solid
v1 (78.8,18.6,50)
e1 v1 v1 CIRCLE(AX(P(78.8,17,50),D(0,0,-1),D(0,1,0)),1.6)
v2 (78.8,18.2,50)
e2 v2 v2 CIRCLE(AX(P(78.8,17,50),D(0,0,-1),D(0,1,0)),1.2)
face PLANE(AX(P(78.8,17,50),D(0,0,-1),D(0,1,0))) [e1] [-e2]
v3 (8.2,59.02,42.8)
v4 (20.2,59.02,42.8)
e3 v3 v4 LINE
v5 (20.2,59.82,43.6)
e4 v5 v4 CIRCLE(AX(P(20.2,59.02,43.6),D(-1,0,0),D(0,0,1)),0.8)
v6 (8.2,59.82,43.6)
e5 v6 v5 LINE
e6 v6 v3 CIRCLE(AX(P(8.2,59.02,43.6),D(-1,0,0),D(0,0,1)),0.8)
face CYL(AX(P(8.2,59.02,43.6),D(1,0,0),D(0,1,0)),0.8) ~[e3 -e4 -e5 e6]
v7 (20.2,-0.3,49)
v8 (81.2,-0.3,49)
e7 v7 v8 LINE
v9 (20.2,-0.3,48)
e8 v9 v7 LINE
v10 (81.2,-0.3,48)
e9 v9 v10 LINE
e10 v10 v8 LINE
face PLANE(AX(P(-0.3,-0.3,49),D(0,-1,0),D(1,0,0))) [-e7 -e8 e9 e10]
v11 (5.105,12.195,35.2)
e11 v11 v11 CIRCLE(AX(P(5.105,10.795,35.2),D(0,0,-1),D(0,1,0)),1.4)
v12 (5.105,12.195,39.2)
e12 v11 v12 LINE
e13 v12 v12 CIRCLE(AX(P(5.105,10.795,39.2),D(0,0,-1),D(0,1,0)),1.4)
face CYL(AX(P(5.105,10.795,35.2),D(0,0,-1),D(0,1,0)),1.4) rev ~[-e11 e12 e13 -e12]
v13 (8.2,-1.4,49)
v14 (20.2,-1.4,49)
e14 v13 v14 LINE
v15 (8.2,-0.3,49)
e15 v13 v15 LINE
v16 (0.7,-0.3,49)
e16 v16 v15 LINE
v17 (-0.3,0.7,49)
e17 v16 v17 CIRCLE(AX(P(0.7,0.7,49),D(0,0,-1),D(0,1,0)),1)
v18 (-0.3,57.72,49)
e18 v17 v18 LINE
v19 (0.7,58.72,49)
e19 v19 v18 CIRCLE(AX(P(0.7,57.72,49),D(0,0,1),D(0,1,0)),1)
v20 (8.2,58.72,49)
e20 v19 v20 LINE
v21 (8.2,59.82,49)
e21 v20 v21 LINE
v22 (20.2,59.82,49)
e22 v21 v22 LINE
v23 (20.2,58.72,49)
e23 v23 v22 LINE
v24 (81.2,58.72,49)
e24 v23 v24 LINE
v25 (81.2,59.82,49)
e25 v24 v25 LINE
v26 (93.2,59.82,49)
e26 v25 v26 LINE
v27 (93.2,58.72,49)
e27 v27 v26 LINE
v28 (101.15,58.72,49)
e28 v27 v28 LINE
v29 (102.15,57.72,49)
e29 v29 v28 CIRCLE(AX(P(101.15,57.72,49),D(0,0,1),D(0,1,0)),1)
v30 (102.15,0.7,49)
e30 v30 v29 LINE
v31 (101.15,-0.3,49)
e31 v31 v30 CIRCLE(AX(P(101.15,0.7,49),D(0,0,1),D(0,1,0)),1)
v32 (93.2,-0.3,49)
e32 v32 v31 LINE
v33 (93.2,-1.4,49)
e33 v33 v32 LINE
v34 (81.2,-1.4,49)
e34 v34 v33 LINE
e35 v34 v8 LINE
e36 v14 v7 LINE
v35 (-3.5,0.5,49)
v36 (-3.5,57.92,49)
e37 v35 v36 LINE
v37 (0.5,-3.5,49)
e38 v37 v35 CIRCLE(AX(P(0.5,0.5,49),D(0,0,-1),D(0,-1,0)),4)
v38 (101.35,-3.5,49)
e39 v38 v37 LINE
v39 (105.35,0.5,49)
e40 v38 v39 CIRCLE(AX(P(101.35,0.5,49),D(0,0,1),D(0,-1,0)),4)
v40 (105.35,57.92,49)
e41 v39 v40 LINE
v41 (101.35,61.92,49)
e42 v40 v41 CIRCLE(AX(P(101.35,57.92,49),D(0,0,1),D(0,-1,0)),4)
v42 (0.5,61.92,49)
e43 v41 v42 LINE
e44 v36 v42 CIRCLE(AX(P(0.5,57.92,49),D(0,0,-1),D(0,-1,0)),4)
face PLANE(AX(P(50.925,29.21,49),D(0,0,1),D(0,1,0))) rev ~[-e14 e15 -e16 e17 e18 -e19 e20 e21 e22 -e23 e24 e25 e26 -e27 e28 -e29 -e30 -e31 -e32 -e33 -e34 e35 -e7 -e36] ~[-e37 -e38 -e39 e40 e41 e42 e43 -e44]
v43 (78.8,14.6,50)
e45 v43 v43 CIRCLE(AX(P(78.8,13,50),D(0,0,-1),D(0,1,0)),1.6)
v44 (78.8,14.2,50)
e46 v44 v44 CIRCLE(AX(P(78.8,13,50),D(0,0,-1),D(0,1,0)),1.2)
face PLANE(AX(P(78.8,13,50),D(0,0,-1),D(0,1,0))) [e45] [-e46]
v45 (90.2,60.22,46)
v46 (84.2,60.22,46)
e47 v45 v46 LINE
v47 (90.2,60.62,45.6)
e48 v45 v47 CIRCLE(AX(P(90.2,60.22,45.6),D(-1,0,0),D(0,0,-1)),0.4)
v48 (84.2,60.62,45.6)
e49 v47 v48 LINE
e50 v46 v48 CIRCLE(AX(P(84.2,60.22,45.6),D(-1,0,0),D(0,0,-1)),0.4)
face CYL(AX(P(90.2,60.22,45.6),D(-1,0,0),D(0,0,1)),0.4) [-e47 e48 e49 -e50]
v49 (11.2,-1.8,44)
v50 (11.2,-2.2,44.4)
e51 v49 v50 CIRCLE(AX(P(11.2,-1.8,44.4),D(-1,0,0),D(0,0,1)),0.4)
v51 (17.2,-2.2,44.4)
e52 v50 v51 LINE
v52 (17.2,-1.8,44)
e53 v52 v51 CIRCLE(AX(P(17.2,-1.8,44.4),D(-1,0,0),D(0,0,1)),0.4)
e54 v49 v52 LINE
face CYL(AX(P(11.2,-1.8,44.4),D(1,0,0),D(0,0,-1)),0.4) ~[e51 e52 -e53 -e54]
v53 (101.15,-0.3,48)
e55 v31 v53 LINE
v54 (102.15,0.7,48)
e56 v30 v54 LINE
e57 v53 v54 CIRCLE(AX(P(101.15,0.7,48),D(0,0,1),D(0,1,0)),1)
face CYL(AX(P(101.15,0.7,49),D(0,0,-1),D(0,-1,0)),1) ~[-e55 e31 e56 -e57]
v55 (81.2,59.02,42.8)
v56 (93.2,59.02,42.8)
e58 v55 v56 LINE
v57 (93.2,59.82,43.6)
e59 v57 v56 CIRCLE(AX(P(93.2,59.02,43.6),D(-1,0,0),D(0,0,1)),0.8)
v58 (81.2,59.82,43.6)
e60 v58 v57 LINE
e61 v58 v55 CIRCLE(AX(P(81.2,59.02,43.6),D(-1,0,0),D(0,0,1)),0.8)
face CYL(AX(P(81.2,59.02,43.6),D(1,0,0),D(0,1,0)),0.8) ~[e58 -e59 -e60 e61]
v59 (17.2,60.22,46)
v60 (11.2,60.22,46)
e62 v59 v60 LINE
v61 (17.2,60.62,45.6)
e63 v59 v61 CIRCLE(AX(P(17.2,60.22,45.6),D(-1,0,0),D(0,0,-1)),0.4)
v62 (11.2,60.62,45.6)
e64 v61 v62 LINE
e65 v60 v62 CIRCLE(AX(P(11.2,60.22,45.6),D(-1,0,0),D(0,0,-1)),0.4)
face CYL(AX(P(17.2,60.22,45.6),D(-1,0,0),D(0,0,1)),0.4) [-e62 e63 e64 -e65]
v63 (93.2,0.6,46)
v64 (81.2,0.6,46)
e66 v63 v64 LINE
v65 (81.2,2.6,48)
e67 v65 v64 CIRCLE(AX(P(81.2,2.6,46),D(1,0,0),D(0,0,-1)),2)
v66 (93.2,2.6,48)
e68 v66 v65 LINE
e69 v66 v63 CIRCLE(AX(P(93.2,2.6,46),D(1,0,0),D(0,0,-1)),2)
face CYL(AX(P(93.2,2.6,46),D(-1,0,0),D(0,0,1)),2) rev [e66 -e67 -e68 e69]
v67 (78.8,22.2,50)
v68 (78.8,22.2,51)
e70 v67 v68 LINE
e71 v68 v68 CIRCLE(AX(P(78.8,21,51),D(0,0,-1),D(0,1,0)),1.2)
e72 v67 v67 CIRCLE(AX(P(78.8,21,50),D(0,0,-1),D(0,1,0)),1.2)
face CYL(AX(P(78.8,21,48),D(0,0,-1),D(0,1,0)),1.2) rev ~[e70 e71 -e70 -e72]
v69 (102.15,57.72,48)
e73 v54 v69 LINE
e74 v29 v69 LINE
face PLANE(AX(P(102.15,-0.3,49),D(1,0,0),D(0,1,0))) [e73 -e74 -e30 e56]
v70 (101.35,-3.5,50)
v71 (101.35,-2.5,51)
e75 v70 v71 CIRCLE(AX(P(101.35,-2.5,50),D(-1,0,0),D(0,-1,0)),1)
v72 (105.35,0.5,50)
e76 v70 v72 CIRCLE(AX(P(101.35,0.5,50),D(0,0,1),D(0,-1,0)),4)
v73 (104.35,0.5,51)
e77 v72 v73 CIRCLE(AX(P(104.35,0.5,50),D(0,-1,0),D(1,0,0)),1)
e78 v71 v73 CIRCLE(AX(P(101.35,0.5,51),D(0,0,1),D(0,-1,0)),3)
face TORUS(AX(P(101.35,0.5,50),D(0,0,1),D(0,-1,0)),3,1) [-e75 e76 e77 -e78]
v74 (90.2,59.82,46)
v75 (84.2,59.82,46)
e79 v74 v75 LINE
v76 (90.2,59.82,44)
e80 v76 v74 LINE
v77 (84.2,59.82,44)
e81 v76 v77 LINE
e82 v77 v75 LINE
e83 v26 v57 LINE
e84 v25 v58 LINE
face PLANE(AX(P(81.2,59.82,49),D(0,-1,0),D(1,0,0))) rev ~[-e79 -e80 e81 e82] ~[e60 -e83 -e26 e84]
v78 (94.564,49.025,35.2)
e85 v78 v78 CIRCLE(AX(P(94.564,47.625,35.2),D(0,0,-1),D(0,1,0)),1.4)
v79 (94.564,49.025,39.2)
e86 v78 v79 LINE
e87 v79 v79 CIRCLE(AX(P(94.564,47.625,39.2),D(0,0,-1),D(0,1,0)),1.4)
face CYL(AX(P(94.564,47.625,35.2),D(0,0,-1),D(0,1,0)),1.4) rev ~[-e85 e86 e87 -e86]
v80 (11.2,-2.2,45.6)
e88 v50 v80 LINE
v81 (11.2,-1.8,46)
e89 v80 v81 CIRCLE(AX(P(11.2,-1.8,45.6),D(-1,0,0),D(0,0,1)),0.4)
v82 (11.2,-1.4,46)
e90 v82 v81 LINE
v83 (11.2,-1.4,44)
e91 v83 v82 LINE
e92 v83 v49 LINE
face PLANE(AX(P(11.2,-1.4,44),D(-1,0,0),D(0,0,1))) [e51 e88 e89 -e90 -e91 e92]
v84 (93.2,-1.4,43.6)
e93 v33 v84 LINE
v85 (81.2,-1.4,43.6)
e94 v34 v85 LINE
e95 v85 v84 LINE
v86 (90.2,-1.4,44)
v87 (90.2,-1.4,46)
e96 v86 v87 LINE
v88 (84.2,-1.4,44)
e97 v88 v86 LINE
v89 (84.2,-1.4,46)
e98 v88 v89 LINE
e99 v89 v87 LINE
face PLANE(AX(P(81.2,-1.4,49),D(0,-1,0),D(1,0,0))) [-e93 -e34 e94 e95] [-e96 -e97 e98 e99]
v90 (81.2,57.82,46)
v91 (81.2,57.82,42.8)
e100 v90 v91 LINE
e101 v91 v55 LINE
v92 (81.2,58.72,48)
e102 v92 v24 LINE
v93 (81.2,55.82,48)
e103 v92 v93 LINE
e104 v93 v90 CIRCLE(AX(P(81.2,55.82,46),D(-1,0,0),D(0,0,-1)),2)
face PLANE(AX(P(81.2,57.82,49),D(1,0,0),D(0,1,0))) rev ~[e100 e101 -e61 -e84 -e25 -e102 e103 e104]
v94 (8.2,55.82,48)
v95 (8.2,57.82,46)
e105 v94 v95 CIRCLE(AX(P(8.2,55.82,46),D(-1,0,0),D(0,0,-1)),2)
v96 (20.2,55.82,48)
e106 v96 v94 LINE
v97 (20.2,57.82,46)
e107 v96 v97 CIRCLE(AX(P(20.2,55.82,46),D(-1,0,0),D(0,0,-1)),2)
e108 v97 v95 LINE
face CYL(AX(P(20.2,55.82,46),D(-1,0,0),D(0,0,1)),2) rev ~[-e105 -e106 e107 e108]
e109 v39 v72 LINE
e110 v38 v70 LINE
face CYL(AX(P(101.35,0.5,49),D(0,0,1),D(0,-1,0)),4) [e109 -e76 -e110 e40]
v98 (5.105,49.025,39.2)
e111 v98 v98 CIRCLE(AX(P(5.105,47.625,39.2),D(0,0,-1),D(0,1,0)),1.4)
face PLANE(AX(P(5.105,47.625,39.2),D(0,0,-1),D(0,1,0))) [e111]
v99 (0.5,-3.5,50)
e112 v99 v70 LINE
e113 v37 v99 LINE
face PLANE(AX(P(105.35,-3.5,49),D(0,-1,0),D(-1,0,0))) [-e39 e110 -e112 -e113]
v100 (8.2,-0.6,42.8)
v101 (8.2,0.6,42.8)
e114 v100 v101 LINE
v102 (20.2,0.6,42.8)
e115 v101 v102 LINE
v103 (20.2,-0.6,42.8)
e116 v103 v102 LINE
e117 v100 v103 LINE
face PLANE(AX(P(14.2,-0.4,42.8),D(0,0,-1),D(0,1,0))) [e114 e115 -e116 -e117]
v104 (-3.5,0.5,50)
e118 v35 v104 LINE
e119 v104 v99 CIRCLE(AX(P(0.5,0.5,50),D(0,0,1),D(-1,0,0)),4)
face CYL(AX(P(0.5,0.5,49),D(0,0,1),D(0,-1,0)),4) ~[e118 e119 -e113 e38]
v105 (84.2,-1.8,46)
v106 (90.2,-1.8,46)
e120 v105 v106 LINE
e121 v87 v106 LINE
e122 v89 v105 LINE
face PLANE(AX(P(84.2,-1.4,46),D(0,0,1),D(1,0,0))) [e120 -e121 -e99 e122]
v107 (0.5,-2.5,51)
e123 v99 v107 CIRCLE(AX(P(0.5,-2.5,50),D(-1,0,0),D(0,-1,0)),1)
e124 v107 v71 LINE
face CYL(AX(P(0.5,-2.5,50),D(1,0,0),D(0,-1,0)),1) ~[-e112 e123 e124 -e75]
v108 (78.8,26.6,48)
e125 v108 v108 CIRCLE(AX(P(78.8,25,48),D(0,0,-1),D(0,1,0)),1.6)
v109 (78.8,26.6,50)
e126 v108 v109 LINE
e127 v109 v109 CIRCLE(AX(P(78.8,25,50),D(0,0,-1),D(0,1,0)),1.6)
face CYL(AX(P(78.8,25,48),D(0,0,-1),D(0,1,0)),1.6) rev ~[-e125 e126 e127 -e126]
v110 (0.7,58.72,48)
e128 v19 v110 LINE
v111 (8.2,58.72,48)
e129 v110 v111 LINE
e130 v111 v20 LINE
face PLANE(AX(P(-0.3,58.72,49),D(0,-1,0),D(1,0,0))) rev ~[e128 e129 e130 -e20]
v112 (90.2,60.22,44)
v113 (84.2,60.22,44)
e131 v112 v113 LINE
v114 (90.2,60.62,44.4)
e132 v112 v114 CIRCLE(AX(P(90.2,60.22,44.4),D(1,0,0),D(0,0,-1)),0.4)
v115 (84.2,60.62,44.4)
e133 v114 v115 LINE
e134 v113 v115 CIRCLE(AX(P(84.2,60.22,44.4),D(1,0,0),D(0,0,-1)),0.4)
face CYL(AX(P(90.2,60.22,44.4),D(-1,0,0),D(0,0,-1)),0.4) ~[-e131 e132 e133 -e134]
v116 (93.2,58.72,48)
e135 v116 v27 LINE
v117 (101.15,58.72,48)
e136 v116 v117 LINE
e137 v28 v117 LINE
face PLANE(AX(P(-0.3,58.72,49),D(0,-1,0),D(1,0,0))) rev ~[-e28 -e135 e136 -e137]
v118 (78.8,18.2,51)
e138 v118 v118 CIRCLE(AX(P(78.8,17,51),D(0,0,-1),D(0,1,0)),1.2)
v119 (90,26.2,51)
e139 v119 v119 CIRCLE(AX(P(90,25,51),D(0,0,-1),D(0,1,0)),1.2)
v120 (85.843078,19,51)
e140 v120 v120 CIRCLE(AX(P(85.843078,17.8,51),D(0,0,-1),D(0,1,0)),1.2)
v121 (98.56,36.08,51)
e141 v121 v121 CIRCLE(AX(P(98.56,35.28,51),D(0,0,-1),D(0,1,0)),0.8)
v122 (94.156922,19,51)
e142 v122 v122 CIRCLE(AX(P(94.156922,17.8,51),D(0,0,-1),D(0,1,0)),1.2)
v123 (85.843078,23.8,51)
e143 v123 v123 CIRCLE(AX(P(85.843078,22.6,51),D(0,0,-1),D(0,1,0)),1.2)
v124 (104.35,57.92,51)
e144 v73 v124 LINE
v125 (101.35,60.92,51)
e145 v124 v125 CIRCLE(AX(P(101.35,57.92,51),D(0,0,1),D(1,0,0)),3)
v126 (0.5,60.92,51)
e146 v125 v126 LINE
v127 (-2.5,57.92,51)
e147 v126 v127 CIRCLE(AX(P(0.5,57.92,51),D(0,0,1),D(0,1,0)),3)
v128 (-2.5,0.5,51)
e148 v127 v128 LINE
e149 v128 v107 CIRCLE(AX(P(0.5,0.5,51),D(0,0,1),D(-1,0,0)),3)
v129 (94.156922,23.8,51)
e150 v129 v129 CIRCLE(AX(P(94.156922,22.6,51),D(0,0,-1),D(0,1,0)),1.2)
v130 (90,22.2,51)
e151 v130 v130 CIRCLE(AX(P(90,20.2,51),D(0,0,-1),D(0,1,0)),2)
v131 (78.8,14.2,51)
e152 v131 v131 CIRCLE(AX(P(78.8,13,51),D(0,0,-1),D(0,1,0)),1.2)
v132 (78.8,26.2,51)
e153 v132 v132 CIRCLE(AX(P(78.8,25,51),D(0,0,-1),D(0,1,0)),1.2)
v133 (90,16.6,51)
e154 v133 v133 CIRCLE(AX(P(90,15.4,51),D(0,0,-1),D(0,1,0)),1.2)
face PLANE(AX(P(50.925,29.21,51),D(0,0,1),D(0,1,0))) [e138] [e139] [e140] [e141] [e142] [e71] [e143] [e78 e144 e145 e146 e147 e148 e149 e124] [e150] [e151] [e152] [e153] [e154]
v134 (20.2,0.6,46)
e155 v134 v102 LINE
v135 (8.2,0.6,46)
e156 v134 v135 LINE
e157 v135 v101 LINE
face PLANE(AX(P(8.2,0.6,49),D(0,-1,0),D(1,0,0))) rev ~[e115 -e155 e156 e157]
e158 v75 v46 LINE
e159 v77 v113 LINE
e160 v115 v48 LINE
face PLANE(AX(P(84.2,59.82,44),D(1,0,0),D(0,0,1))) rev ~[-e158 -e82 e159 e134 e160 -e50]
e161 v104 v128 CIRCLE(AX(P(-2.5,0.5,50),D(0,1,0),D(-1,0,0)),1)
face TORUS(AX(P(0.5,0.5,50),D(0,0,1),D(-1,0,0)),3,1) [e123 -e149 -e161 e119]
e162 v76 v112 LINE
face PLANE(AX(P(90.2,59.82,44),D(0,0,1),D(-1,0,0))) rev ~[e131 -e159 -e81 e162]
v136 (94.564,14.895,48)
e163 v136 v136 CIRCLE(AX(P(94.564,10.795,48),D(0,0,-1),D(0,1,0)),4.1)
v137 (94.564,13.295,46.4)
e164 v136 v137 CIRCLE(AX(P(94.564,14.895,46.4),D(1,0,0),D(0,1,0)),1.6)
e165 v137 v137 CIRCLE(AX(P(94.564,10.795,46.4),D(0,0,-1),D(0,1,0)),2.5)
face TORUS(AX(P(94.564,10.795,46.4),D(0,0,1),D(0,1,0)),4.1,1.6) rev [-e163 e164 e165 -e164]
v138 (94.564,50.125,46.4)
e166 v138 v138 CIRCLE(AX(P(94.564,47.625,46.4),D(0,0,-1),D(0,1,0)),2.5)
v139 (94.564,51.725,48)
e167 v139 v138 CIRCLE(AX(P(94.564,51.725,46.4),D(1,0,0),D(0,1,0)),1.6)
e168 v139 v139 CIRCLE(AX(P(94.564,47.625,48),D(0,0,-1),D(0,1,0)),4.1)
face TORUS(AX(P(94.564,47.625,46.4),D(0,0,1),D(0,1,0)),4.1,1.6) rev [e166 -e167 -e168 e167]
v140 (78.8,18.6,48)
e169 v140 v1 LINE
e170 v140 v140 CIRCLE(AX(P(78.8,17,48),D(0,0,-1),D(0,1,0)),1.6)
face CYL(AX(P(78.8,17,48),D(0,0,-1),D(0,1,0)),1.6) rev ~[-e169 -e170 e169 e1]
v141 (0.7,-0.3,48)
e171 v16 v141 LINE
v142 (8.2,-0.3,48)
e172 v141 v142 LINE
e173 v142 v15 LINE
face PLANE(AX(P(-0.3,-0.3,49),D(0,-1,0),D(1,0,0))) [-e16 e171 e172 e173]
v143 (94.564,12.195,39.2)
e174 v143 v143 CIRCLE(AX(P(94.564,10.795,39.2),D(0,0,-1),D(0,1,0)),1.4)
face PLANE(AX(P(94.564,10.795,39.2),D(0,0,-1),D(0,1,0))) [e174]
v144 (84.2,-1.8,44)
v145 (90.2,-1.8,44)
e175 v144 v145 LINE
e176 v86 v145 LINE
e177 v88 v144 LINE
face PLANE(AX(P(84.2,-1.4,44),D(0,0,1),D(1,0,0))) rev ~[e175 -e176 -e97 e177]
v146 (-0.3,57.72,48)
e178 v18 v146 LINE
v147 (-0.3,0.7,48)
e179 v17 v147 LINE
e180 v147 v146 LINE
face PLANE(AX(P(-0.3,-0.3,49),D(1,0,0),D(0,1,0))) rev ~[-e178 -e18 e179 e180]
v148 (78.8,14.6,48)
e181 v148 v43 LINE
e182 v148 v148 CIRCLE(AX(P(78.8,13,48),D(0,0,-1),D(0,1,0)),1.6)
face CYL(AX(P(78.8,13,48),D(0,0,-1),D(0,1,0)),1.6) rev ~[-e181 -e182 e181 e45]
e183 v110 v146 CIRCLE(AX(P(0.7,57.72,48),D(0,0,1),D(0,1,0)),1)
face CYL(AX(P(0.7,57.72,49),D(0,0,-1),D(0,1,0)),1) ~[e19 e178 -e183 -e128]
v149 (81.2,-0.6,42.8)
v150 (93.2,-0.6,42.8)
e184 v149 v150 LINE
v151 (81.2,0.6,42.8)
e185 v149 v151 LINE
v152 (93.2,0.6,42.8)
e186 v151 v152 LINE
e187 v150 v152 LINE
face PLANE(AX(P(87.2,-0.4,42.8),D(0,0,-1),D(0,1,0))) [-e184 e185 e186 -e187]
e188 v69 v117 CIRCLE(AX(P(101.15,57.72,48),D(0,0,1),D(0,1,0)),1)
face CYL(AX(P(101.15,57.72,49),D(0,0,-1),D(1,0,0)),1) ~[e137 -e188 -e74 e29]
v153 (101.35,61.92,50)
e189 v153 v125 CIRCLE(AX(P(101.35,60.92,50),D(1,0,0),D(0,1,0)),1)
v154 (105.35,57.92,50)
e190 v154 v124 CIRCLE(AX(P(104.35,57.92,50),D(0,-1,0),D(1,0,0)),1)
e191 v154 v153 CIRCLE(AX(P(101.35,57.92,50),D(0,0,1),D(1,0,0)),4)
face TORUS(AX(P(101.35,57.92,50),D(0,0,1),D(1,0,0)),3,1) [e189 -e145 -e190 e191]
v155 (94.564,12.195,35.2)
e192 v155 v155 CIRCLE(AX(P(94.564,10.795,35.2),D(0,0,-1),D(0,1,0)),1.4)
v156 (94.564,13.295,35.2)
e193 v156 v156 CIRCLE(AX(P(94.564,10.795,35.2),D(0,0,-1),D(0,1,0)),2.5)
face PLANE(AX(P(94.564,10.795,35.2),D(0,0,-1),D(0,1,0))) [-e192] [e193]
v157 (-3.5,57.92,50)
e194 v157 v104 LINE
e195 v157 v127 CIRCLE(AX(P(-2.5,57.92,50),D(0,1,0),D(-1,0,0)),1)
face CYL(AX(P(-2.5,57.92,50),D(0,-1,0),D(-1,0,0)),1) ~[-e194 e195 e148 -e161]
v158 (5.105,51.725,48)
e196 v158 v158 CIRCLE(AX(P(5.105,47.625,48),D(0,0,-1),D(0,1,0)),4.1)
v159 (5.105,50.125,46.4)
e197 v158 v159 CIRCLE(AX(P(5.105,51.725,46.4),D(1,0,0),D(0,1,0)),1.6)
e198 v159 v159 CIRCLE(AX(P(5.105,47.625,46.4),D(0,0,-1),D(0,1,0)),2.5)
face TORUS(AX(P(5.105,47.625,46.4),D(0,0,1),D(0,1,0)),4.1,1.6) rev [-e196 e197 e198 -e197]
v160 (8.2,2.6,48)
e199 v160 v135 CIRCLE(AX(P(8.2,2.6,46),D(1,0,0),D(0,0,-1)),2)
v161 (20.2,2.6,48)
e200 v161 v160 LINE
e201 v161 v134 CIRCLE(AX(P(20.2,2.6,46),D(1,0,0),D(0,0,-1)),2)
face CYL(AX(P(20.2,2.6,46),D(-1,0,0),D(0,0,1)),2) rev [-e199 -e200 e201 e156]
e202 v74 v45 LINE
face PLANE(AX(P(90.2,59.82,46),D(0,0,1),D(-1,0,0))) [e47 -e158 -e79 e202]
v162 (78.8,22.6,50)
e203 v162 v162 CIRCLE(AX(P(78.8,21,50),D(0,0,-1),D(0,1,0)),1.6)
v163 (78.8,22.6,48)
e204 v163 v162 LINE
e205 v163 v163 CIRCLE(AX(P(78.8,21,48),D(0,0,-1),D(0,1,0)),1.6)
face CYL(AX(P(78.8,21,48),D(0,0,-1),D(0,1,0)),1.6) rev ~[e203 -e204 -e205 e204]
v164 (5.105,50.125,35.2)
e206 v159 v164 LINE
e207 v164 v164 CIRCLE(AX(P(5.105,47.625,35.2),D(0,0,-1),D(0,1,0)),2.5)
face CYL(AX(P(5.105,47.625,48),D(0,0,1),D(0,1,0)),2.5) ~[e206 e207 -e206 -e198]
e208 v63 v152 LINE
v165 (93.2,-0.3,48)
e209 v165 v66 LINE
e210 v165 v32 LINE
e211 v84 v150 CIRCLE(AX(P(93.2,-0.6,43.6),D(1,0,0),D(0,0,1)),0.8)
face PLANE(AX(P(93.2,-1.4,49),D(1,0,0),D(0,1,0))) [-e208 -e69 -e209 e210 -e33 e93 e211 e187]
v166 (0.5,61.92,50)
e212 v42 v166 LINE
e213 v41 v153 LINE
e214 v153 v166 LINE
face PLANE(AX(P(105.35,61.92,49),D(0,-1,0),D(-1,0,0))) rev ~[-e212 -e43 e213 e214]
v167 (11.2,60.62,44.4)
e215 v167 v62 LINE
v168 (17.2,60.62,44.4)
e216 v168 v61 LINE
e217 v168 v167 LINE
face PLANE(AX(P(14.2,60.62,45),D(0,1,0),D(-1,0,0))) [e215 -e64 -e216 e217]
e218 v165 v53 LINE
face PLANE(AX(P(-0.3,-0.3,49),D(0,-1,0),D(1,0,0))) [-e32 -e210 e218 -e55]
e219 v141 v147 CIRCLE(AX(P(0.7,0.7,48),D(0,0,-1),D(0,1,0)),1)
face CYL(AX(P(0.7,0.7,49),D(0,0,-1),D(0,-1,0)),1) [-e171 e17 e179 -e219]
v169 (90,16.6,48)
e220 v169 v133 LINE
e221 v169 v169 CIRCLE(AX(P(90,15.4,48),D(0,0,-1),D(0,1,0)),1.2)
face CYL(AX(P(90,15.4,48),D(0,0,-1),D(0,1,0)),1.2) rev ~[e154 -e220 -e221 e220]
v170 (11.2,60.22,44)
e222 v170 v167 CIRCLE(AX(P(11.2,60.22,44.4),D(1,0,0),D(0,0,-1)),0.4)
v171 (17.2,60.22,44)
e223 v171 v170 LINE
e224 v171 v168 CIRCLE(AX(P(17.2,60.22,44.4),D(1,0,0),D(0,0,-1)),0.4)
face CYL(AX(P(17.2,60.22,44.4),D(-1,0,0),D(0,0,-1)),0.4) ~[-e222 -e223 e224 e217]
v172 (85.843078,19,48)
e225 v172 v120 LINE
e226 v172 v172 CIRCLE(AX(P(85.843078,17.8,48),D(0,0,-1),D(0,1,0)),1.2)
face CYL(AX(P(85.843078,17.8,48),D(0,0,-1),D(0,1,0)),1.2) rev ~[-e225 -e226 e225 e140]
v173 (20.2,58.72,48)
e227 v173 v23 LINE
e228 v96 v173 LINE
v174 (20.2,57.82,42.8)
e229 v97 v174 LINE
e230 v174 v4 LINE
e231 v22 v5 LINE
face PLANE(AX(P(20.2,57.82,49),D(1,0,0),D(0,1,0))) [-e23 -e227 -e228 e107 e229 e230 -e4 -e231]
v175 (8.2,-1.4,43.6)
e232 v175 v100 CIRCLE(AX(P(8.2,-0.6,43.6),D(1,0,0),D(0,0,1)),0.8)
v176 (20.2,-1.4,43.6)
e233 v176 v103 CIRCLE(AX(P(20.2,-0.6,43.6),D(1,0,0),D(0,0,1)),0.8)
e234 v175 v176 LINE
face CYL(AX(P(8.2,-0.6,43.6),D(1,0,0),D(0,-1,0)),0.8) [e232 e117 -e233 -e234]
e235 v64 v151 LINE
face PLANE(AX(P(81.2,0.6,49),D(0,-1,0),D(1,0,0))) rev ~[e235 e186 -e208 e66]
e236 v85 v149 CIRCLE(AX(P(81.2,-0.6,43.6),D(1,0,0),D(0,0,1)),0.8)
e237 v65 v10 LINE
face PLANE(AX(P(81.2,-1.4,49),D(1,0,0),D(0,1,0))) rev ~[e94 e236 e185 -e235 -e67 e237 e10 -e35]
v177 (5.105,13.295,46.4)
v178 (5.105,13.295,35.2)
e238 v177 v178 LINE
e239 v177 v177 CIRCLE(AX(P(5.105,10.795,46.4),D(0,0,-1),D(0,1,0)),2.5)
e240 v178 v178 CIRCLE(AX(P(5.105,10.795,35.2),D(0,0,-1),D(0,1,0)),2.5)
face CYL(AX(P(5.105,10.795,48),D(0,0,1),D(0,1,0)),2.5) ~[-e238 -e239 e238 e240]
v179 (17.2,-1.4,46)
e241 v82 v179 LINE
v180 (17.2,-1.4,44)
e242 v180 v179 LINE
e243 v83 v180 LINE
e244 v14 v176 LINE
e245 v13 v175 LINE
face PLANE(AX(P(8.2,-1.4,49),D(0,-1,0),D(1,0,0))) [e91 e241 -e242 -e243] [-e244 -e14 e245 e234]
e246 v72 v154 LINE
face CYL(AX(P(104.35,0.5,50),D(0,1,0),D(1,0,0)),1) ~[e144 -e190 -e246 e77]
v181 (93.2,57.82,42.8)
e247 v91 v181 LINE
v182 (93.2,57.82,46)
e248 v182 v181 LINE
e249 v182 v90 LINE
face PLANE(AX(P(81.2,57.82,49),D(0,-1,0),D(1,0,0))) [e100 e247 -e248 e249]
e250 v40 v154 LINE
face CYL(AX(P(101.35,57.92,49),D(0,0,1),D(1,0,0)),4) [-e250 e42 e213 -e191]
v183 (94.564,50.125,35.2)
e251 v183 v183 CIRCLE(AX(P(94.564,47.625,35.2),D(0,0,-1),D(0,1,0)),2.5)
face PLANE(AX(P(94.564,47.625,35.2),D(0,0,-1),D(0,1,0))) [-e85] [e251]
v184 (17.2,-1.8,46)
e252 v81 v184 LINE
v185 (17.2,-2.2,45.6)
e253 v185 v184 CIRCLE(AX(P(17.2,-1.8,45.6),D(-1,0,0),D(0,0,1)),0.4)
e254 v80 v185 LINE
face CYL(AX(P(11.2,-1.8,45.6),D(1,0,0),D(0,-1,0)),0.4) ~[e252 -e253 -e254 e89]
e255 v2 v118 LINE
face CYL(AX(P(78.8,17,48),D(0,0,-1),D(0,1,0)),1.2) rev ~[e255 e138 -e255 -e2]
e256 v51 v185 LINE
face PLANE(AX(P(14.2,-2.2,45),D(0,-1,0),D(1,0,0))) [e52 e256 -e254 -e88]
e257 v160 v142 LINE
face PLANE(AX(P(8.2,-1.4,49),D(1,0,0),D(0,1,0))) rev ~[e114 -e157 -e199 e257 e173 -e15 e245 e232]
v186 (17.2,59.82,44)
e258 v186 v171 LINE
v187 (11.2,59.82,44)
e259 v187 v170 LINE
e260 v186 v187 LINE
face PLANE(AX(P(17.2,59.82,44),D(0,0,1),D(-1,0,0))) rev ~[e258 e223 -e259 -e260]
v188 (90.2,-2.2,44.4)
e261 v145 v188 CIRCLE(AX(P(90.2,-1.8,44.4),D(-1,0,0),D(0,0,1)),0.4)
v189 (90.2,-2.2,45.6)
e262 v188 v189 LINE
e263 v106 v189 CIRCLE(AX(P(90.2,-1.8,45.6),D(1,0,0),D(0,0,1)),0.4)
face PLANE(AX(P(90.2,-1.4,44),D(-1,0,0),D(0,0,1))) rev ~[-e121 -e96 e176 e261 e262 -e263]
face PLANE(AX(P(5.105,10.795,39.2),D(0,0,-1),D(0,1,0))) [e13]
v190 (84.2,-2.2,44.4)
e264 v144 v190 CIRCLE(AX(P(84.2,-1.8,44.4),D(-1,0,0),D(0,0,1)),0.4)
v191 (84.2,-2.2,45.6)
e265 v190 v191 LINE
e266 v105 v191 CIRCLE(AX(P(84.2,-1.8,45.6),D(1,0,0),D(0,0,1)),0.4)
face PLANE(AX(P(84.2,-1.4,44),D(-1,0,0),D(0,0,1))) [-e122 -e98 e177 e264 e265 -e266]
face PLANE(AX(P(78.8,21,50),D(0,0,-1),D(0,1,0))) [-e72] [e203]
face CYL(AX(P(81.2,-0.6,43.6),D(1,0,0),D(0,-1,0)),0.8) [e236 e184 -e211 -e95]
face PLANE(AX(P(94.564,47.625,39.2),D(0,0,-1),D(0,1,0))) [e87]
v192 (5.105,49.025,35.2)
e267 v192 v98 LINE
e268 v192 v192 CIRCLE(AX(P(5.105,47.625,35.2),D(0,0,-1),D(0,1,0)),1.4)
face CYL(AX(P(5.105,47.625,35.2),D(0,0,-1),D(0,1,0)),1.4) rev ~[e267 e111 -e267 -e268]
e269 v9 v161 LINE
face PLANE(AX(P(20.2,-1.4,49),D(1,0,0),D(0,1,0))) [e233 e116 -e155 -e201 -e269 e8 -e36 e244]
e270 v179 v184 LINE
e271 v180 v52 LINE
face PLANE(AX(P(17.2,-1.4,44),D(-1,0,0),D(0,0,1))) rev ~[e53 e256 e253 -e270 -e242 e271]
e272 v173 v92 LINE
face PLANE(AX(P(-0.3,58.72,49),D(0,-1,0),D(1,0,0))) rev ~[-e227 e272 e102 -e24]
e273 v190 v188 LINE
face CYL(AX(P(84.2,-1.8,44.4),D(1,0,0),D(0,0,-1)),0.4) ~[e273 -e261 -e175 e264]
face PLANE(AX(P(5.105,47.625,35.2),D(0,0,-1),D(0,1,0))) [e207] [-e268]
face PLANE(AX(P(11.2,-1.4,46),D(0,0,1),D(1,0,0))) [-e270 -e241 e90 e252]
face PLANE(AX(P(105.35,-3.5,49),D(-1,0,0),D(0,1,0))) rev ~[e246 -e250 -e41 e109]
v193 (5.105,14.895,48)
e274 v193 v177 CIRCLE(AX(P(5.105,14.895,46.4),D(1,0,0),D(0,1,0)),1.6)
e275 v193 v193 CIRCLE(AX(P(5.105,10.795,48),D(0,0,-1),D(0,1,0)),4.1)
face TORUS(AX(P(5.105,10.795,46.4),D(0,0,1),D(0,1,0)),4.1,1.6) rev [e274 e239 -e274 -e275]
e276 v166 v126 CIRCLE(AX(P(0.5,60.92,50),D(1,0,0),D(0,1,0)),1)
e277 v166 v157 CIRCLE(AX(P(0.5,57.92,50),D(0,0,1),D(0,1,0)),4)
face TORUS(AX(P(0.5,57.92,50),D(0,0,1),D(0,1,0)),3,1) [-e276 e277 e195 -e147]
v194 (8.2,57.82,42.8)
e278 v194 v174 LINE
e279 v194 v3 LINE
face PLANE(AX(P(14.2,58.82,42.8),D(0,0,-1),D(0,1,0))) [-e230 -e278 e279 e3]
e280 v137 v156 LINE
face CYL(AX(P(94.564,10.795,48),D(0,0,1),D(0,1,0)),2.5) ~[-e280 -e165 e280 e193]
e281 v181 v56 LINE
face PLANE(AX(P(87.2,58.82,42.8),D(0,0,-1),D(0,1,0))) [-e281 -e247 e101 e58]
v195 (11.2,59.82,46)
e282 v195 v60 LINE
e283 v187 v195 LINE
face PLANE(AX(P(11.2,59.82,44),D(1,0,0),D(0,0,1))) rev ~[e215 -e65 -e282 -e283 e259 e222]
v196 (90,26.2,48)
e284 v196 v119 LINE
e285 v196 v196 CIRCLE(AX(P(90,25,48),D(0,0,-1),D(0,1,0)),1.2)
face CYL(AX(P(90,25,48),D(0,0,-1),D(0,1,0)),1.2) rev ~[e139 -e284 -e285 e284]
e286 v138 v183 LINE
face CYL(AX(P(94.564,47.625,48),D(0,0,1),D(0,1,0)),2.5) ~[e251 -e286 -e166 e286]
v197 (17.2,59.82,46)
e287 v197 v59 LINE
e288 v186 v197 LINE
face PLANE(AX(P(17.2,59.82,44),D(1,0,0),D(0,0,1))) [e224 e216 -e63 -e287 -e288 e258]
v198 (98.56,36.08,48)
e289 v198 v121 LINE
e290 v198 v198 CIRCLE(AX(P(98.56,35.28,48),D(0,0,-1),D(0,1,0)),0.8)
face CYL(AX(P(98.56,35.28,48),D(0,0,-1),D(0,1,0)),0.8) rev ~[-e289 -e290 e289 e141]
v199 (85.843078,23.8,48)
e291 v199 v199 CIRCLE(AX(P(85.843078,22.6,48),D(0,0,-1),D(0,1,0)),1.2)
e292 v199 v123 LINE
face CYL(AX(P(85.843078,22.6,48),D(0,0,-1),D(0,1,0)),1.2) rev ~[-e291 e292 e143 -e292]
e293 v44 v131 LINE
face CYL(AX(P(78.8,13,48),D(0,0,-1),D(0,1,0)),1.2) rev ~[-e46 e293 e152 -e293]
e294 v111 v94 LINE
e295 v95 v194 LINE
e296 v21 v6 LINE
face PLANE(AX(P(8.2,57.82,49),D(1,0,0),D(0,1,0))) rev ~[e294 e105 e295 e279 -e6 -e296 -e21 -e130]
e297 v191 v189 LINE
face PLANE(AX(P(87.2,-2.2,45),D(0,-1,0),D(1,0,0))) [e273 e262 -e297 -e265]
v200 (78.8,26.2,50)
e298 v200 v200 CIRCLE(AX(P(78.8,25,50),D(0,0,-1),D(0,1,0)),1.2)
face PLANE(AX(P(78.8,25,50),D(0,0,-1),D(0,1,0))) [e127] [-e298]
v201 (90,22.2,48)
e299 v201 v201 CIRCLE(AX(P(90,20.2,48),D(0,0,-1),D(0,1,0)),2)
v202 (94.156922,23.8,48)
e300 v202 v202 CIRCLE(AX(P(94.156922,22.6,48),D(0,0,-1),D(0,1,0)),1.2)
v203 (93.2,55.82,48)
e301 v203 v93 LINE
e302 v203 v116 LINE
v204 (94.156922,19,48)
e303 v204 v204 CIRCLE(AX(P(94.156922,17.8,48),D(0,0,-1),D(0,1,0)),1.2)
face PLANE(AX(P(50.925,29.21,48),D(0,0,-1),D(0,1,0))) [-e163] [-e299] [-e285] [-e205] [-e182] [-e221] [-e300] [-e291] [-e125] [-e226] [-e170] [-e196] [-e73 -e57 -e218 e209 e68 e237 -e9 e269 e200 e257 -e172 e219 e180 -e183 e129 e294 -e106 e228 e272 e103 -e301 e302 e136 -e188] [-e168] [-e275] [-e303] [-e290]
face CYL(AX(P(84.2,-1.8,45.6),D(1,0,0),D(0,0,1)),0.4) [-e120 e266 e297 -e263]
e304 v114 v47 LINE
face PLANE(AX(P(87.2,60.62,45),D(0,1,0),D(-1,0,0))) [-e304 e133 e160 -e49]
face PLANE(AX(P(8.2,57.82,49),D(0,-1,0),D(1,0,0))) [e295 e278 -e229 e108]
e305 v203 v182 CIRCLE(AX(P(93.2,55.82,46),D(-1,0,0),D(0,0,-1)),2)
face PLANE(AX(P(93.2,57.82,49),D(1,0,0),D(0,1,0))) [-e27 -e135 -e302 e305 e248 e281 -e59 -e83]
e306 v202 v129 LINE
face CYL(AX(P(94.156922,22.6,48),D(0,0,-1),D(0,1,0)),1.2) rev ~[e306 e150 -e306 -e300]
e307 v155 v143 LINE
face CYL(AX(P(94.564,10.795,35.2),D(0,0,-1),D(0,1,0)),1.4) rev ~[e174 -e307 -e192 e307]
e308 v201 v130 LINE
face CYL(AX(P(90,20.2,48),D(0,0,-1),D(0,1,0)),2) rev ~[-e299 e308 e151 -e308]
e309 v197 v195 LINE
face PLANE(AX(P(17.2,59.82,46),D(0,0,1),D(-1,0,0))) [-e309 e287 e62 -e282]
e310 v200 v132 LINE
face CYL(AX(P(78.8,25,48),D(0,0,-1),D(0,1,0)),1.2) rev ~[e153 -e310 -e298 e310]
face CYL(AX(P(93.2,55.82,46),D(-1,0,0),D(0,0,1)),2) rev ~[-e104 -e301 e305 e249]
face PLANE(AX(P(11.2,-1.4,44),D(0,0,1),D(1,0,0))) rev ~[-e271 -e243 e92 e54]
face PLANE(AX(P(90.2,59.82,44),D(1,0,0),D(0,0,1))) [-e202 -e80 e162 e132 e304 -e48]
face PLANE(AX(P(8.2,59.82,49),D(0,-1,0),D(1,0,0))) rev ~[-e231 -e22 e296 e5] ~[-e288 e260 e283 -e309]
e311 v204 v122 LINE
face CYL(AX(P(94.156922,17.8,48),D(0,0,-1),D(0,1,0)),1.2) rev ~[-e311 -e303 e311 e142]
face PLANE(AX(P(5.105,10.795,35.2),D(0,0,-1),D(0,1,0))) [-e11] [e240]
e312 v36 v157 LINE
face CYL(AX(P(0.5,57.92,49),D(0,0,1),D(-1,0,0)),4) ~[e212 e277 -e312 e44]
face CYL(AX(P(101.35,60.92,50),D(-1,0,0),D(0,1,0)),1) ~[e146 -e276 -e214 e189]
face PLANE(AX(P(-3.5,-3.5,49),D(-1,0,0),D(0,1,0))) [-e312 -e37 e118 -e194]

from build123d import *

# Parameters (mm, degrees)
SKETCH012_W     = 65.42
SKETCH012_H     = 108.85
PAD003_DEPTH    = 2
SKETCH017_W     = 59.02
SKETCH017_H     = 102.45
PAD004_DEPTH    = 1
SKETCH018_R     = 2.5
PAD005_DEPTH    = 12.8
SKETCH019_R     = 1.4
POCKET008_DEPTH = 4
SKETCH020_R     = 1.2
SKETCH020_R_2   = 2
SKETCH020_R_3   = 0.8
POCKET009_DEPTH = 3.001
SKETCH021_W     = 2
SKETCH021_H     = 12
PAD006_DEPTH    = 6.2
SKETCH022_W     = 6
SKETCH022_H     = 2
PAD007_DEPTH    = 0.8
SKETCH023_W     = 6
SKETCH023_H     = 2
PAD008_DEPTH    = 0.8
FILLET004_R     = 4
FILLET005_R     = 1
FILLET006_R     = 1
FILLET007_R     = 0.8
FILLET008_R     = 0.4
FILLET009_R     = 0.4
FILLET011_R     = 1.6
FILLET012_R     = 2
SKETCH030_R     = 1.6
POCKET014_DEPTH = 2


with BuildPart() as part:
    # Sketch012 (on DatumPlane) → Pad003 (new body)
    with BuildSketch(Plane(origin=(50.925, 29.21, 49), x_dir=(0, 1, 0), z_dir=(0, 0, 1))):
        Rectangle(SKETCH012_W, SKETCH012_H)
    extrude(amount=PAD003_DEPTH)

    # Sketch017 (on Face5 of Pad003) → Pad004 (join)
    with BuildSketch(Plane(origin=(50.925, 29.21, 49), x_dir=(0, 1, 0), z_dir=(0, 0, -1))):
        Rectangle(SKETCH017_W, SKETCH017_H)
    extrude(amount=PAD004_DEPTH)

    # Sketch018 (on DatumPlane) → Pad005 (join)
    with BuildSketch(Plane(origin=(50.925, 29.21, 48), x_dir=(0, 1, 0), z_dir=(0, 0, -1))):
        with Locations((-18.415, 43.639)):
            Circle(SKETCH018_R)
        with Locations((18.415, 43.639)):
            Circle(SKETCH018_R)
        with Locations((-18.415, -45.82)):
            Circle(SKETCH018_R)
        with Locations((18.415, -45.82)):
            Circle(SKETCH018_R)
    extrude(amount=PAD005_DEPTH)

    # Sketch019 (on DatumPlane) → Pocket008 (cut)
    with BuildSketch(Plane(origin=(50.925, 29.21, 35.2), x_dir=(0, 1, 0), z_dir=(0, 0, -1))):
        with Locations((-18.415, -45.82)):
            Circle(SKETCH019_R)
        with Locations((18.415, -45.82)):
            Circle(SKETCH019_R)
        with Locations((-18.415, 43.639)):
            Circle(SKETCH019_R)
        with Locations((18.415, 43.639)):
            Circle(SKETCH019_R)
    extrude(amount=-POCKET008_DEPTH, mode=Mode.SUBTRACT)

    # Sketch020 (on DatumPlane) → Pocket009 (cut, through all)
    with BuildSketch(Plane(origin=(50.925, 29.21, 48), x_dir=(0, 1, 0), z_dir=(0, 0, -1))):
        with Locations((-16.21, 27.875)):
            Circle(SKETCH020_R)
        with Locations((-12.21, 27.875)):
            Circle(SKETCH020_R)
        with Locations((-8.21, 27.875)):
            Circle(SKETCH020_R)
        with Locations((-4.21, 27.875)):
            Circle(SKETCH020_R)
        with Locations((-9.01, 39.075)):
            Circle(SKETCH020_R_2)
        with Locations((6.07, 47.635)):
            Circle(SKETCH020_R_3)
        with Locations((-6.61, 34.918078)):
            Circle(SKETCH020_R)
        with Locations((-11.41, 34.918078)):
            Circle(SKETCH020_R)
        with Locations((-13.81, 39.075)):
            Circle(SKETCH020_R)
        with Locations((-11.41, 43.231922)):
            Circle(SKETCH020_R)
        with Locations((-6.61, 43.231922)):
            Circle(SKETCH020_R)
        with Locations((-4.21, 39.075)):
            Circle(SKETCH020_R)
    extrude(amount=-POCKET009_DEPTH, mode=Mode.SUBTRACT)

    # Sketch021 (on DatumPlane) → Pad006 (join)
    with BuildSketch(Plane(origin=(50.925, 29.21, 49), x_dir=(0, 1, 0), z_dir=(0, 0, -1))):
        with Locations((-29.61, -36.725)):
            Rectangle(SKETCH021_W, SKETCH021_H)
        with Locations((-29.61, 36.275)):
            Rectangle(SKETCH021_W, SKETCH021_H)
        with Locations((29.61, 36.275)):
            Rectangle(SKETCH021_W, SKETCH021_H)
        with Locations((29.61, -36.725)):
            Rectangle(SKETCH021_W, SKETCH021_H)
    extrude(amount=PAD006_DEPTH)

    # Sketch022 (on Face14 of Pad006) → Pad007 (join)
    with BuildSketch(Plane(origin=(50.925, 59.82, 49), x_dir=(-1, 0, 0), z_dir=(0, 1, 0))):
        with Locations((-36.275, -4)):
            Rectangle(SKETCH022_W, SKETCH022_H)
        with Locations((36.725, -4)):
            Rectangle(SKETCH022_W, SKETCH022_H)
    extrude(amount=PAD007_DEPTH)

    # Sketch023 (on Face24 of Pad007) → Pad008 (join)
    with BuildSketch(Plane(origin=(50.925, -1.4, 49), x_dir=(1, 0, 0), z_dir=(0, -1, 0))):
        with Locations((-36.725, -4)):
            Rectangle(SKETCH023_W, SKETCH023_H)
        with Locations((36.275, -4)):
            Rectangle(SKETCH023_W, SKETCH023_H)
    extrude(amount=PAD008_DEPTH)

    # Fillet004
    fillet004_edges = [part.edges().sort_by_distance(p)[0] for p in [
        (-3.5, 61.92, 50),
        (105.35, 61.92, 50),
        (105.35, -3.5, 50),
        (-3.5, -3.5, 50),
    ]]
    fillet(fillet004_edges, radius=FILLET004_R)

    # Fillet005
    fillet005_edges = [part.edges().sort_by_distance(p)[0] for p in [
        (-0.3, 58.72, 48.5),
        (-0.3, -0.3, 48.5),
        (102.15, -0.3, 48.5),
        (102.15, 58.72, 48.5),
    ]]
    fillet(fillet005_edges, radius=FILLET005_R)

    # Fillet006
    fillet006_edges = [part.edges().sort_by_distance(p)[0] for p in [
        (50.925, 61.92, 51),
    ]]
    fillet(fillet006_edges, radius=FILLET006_R)

    # Fillet007
    fillet007_edges = [part.edges().sort_by_distance(p)[0] for p in [
        (87.2, 59.82, 42.8),
        (14.2, 59.82, 42.8),
        (14.2, -1.4, 42.8),
        (87.2, -1.4, 42.8),
    ]]
    fillet(fillet007_edges, radius=FILLET007_R)

    # Fillet008
    fillet008_edges = [part.edges().sort_by_distance(p)[0] for p in [
        (87.2, 60.62, 44),
        (14.2, 60.62, 44),
        (87.2, -2.2, 44),
        (14.2, -2.2, 44),
    ]]
    fillet(fillet008_edges, radius=FILLET008_R)

    # Fillet009
    fillet009_edges = [part.edges().sort_by_distance(p)[0] for p in [
        (87.2, -2.2, 46),
        (14.2, -2.2, 46),
        (14.2, 60.62, 46),
        (87.2, 60.62, 46),
    ]]
    fillet(fillet009_edges, radius=FILLET009_R)

    # Fillet011
    fillet011_edges = [part.edges().sort_by_distance(p)[0] for p in [
        (5.105, 8.295, 48),
        (5.105, 45.125, 48),
        (94.564, 45.125, 48),
        (94.564, 8.295, 48),
    ]]
    fillet(fillet011_edges, radius=FILLET011_R)

    # Fillet012
    fillet012_edges = [part.edges().sort_by_distance(p)[0] for p in [
        (87.2, 0.6, 48),
        (14.2, 0.6, 48),
        (14.2, 57.82, 48),
        (87.2, 57.82, 48),
    ]]
    fillet(fillet012_edges, radius=FILLET012_R)

    # Sketch030 → Pocket014 (cut)
    with BuildSketch(Plane(origin=(50.925, 29.21, 48), x_dir=(0, 1, 0), z_dir=(0, 0, -1))):
        with Locations((-16.21, 27.875)):
            Circle(SKETCH030_R)
        with Locations((-12.21, 27.875)):
            Circle(SKETCH030_R)
        with Locations((-8.21, 27.875)):
            Circle(SKETCH030_R)
        with Locations((-4.21, 27.875)):
            Circle(SKETCH030_R)
    extrude(amount=-POCKET014_DEPTH, mode=Mode.SUBTRACT)


solid = part.part
